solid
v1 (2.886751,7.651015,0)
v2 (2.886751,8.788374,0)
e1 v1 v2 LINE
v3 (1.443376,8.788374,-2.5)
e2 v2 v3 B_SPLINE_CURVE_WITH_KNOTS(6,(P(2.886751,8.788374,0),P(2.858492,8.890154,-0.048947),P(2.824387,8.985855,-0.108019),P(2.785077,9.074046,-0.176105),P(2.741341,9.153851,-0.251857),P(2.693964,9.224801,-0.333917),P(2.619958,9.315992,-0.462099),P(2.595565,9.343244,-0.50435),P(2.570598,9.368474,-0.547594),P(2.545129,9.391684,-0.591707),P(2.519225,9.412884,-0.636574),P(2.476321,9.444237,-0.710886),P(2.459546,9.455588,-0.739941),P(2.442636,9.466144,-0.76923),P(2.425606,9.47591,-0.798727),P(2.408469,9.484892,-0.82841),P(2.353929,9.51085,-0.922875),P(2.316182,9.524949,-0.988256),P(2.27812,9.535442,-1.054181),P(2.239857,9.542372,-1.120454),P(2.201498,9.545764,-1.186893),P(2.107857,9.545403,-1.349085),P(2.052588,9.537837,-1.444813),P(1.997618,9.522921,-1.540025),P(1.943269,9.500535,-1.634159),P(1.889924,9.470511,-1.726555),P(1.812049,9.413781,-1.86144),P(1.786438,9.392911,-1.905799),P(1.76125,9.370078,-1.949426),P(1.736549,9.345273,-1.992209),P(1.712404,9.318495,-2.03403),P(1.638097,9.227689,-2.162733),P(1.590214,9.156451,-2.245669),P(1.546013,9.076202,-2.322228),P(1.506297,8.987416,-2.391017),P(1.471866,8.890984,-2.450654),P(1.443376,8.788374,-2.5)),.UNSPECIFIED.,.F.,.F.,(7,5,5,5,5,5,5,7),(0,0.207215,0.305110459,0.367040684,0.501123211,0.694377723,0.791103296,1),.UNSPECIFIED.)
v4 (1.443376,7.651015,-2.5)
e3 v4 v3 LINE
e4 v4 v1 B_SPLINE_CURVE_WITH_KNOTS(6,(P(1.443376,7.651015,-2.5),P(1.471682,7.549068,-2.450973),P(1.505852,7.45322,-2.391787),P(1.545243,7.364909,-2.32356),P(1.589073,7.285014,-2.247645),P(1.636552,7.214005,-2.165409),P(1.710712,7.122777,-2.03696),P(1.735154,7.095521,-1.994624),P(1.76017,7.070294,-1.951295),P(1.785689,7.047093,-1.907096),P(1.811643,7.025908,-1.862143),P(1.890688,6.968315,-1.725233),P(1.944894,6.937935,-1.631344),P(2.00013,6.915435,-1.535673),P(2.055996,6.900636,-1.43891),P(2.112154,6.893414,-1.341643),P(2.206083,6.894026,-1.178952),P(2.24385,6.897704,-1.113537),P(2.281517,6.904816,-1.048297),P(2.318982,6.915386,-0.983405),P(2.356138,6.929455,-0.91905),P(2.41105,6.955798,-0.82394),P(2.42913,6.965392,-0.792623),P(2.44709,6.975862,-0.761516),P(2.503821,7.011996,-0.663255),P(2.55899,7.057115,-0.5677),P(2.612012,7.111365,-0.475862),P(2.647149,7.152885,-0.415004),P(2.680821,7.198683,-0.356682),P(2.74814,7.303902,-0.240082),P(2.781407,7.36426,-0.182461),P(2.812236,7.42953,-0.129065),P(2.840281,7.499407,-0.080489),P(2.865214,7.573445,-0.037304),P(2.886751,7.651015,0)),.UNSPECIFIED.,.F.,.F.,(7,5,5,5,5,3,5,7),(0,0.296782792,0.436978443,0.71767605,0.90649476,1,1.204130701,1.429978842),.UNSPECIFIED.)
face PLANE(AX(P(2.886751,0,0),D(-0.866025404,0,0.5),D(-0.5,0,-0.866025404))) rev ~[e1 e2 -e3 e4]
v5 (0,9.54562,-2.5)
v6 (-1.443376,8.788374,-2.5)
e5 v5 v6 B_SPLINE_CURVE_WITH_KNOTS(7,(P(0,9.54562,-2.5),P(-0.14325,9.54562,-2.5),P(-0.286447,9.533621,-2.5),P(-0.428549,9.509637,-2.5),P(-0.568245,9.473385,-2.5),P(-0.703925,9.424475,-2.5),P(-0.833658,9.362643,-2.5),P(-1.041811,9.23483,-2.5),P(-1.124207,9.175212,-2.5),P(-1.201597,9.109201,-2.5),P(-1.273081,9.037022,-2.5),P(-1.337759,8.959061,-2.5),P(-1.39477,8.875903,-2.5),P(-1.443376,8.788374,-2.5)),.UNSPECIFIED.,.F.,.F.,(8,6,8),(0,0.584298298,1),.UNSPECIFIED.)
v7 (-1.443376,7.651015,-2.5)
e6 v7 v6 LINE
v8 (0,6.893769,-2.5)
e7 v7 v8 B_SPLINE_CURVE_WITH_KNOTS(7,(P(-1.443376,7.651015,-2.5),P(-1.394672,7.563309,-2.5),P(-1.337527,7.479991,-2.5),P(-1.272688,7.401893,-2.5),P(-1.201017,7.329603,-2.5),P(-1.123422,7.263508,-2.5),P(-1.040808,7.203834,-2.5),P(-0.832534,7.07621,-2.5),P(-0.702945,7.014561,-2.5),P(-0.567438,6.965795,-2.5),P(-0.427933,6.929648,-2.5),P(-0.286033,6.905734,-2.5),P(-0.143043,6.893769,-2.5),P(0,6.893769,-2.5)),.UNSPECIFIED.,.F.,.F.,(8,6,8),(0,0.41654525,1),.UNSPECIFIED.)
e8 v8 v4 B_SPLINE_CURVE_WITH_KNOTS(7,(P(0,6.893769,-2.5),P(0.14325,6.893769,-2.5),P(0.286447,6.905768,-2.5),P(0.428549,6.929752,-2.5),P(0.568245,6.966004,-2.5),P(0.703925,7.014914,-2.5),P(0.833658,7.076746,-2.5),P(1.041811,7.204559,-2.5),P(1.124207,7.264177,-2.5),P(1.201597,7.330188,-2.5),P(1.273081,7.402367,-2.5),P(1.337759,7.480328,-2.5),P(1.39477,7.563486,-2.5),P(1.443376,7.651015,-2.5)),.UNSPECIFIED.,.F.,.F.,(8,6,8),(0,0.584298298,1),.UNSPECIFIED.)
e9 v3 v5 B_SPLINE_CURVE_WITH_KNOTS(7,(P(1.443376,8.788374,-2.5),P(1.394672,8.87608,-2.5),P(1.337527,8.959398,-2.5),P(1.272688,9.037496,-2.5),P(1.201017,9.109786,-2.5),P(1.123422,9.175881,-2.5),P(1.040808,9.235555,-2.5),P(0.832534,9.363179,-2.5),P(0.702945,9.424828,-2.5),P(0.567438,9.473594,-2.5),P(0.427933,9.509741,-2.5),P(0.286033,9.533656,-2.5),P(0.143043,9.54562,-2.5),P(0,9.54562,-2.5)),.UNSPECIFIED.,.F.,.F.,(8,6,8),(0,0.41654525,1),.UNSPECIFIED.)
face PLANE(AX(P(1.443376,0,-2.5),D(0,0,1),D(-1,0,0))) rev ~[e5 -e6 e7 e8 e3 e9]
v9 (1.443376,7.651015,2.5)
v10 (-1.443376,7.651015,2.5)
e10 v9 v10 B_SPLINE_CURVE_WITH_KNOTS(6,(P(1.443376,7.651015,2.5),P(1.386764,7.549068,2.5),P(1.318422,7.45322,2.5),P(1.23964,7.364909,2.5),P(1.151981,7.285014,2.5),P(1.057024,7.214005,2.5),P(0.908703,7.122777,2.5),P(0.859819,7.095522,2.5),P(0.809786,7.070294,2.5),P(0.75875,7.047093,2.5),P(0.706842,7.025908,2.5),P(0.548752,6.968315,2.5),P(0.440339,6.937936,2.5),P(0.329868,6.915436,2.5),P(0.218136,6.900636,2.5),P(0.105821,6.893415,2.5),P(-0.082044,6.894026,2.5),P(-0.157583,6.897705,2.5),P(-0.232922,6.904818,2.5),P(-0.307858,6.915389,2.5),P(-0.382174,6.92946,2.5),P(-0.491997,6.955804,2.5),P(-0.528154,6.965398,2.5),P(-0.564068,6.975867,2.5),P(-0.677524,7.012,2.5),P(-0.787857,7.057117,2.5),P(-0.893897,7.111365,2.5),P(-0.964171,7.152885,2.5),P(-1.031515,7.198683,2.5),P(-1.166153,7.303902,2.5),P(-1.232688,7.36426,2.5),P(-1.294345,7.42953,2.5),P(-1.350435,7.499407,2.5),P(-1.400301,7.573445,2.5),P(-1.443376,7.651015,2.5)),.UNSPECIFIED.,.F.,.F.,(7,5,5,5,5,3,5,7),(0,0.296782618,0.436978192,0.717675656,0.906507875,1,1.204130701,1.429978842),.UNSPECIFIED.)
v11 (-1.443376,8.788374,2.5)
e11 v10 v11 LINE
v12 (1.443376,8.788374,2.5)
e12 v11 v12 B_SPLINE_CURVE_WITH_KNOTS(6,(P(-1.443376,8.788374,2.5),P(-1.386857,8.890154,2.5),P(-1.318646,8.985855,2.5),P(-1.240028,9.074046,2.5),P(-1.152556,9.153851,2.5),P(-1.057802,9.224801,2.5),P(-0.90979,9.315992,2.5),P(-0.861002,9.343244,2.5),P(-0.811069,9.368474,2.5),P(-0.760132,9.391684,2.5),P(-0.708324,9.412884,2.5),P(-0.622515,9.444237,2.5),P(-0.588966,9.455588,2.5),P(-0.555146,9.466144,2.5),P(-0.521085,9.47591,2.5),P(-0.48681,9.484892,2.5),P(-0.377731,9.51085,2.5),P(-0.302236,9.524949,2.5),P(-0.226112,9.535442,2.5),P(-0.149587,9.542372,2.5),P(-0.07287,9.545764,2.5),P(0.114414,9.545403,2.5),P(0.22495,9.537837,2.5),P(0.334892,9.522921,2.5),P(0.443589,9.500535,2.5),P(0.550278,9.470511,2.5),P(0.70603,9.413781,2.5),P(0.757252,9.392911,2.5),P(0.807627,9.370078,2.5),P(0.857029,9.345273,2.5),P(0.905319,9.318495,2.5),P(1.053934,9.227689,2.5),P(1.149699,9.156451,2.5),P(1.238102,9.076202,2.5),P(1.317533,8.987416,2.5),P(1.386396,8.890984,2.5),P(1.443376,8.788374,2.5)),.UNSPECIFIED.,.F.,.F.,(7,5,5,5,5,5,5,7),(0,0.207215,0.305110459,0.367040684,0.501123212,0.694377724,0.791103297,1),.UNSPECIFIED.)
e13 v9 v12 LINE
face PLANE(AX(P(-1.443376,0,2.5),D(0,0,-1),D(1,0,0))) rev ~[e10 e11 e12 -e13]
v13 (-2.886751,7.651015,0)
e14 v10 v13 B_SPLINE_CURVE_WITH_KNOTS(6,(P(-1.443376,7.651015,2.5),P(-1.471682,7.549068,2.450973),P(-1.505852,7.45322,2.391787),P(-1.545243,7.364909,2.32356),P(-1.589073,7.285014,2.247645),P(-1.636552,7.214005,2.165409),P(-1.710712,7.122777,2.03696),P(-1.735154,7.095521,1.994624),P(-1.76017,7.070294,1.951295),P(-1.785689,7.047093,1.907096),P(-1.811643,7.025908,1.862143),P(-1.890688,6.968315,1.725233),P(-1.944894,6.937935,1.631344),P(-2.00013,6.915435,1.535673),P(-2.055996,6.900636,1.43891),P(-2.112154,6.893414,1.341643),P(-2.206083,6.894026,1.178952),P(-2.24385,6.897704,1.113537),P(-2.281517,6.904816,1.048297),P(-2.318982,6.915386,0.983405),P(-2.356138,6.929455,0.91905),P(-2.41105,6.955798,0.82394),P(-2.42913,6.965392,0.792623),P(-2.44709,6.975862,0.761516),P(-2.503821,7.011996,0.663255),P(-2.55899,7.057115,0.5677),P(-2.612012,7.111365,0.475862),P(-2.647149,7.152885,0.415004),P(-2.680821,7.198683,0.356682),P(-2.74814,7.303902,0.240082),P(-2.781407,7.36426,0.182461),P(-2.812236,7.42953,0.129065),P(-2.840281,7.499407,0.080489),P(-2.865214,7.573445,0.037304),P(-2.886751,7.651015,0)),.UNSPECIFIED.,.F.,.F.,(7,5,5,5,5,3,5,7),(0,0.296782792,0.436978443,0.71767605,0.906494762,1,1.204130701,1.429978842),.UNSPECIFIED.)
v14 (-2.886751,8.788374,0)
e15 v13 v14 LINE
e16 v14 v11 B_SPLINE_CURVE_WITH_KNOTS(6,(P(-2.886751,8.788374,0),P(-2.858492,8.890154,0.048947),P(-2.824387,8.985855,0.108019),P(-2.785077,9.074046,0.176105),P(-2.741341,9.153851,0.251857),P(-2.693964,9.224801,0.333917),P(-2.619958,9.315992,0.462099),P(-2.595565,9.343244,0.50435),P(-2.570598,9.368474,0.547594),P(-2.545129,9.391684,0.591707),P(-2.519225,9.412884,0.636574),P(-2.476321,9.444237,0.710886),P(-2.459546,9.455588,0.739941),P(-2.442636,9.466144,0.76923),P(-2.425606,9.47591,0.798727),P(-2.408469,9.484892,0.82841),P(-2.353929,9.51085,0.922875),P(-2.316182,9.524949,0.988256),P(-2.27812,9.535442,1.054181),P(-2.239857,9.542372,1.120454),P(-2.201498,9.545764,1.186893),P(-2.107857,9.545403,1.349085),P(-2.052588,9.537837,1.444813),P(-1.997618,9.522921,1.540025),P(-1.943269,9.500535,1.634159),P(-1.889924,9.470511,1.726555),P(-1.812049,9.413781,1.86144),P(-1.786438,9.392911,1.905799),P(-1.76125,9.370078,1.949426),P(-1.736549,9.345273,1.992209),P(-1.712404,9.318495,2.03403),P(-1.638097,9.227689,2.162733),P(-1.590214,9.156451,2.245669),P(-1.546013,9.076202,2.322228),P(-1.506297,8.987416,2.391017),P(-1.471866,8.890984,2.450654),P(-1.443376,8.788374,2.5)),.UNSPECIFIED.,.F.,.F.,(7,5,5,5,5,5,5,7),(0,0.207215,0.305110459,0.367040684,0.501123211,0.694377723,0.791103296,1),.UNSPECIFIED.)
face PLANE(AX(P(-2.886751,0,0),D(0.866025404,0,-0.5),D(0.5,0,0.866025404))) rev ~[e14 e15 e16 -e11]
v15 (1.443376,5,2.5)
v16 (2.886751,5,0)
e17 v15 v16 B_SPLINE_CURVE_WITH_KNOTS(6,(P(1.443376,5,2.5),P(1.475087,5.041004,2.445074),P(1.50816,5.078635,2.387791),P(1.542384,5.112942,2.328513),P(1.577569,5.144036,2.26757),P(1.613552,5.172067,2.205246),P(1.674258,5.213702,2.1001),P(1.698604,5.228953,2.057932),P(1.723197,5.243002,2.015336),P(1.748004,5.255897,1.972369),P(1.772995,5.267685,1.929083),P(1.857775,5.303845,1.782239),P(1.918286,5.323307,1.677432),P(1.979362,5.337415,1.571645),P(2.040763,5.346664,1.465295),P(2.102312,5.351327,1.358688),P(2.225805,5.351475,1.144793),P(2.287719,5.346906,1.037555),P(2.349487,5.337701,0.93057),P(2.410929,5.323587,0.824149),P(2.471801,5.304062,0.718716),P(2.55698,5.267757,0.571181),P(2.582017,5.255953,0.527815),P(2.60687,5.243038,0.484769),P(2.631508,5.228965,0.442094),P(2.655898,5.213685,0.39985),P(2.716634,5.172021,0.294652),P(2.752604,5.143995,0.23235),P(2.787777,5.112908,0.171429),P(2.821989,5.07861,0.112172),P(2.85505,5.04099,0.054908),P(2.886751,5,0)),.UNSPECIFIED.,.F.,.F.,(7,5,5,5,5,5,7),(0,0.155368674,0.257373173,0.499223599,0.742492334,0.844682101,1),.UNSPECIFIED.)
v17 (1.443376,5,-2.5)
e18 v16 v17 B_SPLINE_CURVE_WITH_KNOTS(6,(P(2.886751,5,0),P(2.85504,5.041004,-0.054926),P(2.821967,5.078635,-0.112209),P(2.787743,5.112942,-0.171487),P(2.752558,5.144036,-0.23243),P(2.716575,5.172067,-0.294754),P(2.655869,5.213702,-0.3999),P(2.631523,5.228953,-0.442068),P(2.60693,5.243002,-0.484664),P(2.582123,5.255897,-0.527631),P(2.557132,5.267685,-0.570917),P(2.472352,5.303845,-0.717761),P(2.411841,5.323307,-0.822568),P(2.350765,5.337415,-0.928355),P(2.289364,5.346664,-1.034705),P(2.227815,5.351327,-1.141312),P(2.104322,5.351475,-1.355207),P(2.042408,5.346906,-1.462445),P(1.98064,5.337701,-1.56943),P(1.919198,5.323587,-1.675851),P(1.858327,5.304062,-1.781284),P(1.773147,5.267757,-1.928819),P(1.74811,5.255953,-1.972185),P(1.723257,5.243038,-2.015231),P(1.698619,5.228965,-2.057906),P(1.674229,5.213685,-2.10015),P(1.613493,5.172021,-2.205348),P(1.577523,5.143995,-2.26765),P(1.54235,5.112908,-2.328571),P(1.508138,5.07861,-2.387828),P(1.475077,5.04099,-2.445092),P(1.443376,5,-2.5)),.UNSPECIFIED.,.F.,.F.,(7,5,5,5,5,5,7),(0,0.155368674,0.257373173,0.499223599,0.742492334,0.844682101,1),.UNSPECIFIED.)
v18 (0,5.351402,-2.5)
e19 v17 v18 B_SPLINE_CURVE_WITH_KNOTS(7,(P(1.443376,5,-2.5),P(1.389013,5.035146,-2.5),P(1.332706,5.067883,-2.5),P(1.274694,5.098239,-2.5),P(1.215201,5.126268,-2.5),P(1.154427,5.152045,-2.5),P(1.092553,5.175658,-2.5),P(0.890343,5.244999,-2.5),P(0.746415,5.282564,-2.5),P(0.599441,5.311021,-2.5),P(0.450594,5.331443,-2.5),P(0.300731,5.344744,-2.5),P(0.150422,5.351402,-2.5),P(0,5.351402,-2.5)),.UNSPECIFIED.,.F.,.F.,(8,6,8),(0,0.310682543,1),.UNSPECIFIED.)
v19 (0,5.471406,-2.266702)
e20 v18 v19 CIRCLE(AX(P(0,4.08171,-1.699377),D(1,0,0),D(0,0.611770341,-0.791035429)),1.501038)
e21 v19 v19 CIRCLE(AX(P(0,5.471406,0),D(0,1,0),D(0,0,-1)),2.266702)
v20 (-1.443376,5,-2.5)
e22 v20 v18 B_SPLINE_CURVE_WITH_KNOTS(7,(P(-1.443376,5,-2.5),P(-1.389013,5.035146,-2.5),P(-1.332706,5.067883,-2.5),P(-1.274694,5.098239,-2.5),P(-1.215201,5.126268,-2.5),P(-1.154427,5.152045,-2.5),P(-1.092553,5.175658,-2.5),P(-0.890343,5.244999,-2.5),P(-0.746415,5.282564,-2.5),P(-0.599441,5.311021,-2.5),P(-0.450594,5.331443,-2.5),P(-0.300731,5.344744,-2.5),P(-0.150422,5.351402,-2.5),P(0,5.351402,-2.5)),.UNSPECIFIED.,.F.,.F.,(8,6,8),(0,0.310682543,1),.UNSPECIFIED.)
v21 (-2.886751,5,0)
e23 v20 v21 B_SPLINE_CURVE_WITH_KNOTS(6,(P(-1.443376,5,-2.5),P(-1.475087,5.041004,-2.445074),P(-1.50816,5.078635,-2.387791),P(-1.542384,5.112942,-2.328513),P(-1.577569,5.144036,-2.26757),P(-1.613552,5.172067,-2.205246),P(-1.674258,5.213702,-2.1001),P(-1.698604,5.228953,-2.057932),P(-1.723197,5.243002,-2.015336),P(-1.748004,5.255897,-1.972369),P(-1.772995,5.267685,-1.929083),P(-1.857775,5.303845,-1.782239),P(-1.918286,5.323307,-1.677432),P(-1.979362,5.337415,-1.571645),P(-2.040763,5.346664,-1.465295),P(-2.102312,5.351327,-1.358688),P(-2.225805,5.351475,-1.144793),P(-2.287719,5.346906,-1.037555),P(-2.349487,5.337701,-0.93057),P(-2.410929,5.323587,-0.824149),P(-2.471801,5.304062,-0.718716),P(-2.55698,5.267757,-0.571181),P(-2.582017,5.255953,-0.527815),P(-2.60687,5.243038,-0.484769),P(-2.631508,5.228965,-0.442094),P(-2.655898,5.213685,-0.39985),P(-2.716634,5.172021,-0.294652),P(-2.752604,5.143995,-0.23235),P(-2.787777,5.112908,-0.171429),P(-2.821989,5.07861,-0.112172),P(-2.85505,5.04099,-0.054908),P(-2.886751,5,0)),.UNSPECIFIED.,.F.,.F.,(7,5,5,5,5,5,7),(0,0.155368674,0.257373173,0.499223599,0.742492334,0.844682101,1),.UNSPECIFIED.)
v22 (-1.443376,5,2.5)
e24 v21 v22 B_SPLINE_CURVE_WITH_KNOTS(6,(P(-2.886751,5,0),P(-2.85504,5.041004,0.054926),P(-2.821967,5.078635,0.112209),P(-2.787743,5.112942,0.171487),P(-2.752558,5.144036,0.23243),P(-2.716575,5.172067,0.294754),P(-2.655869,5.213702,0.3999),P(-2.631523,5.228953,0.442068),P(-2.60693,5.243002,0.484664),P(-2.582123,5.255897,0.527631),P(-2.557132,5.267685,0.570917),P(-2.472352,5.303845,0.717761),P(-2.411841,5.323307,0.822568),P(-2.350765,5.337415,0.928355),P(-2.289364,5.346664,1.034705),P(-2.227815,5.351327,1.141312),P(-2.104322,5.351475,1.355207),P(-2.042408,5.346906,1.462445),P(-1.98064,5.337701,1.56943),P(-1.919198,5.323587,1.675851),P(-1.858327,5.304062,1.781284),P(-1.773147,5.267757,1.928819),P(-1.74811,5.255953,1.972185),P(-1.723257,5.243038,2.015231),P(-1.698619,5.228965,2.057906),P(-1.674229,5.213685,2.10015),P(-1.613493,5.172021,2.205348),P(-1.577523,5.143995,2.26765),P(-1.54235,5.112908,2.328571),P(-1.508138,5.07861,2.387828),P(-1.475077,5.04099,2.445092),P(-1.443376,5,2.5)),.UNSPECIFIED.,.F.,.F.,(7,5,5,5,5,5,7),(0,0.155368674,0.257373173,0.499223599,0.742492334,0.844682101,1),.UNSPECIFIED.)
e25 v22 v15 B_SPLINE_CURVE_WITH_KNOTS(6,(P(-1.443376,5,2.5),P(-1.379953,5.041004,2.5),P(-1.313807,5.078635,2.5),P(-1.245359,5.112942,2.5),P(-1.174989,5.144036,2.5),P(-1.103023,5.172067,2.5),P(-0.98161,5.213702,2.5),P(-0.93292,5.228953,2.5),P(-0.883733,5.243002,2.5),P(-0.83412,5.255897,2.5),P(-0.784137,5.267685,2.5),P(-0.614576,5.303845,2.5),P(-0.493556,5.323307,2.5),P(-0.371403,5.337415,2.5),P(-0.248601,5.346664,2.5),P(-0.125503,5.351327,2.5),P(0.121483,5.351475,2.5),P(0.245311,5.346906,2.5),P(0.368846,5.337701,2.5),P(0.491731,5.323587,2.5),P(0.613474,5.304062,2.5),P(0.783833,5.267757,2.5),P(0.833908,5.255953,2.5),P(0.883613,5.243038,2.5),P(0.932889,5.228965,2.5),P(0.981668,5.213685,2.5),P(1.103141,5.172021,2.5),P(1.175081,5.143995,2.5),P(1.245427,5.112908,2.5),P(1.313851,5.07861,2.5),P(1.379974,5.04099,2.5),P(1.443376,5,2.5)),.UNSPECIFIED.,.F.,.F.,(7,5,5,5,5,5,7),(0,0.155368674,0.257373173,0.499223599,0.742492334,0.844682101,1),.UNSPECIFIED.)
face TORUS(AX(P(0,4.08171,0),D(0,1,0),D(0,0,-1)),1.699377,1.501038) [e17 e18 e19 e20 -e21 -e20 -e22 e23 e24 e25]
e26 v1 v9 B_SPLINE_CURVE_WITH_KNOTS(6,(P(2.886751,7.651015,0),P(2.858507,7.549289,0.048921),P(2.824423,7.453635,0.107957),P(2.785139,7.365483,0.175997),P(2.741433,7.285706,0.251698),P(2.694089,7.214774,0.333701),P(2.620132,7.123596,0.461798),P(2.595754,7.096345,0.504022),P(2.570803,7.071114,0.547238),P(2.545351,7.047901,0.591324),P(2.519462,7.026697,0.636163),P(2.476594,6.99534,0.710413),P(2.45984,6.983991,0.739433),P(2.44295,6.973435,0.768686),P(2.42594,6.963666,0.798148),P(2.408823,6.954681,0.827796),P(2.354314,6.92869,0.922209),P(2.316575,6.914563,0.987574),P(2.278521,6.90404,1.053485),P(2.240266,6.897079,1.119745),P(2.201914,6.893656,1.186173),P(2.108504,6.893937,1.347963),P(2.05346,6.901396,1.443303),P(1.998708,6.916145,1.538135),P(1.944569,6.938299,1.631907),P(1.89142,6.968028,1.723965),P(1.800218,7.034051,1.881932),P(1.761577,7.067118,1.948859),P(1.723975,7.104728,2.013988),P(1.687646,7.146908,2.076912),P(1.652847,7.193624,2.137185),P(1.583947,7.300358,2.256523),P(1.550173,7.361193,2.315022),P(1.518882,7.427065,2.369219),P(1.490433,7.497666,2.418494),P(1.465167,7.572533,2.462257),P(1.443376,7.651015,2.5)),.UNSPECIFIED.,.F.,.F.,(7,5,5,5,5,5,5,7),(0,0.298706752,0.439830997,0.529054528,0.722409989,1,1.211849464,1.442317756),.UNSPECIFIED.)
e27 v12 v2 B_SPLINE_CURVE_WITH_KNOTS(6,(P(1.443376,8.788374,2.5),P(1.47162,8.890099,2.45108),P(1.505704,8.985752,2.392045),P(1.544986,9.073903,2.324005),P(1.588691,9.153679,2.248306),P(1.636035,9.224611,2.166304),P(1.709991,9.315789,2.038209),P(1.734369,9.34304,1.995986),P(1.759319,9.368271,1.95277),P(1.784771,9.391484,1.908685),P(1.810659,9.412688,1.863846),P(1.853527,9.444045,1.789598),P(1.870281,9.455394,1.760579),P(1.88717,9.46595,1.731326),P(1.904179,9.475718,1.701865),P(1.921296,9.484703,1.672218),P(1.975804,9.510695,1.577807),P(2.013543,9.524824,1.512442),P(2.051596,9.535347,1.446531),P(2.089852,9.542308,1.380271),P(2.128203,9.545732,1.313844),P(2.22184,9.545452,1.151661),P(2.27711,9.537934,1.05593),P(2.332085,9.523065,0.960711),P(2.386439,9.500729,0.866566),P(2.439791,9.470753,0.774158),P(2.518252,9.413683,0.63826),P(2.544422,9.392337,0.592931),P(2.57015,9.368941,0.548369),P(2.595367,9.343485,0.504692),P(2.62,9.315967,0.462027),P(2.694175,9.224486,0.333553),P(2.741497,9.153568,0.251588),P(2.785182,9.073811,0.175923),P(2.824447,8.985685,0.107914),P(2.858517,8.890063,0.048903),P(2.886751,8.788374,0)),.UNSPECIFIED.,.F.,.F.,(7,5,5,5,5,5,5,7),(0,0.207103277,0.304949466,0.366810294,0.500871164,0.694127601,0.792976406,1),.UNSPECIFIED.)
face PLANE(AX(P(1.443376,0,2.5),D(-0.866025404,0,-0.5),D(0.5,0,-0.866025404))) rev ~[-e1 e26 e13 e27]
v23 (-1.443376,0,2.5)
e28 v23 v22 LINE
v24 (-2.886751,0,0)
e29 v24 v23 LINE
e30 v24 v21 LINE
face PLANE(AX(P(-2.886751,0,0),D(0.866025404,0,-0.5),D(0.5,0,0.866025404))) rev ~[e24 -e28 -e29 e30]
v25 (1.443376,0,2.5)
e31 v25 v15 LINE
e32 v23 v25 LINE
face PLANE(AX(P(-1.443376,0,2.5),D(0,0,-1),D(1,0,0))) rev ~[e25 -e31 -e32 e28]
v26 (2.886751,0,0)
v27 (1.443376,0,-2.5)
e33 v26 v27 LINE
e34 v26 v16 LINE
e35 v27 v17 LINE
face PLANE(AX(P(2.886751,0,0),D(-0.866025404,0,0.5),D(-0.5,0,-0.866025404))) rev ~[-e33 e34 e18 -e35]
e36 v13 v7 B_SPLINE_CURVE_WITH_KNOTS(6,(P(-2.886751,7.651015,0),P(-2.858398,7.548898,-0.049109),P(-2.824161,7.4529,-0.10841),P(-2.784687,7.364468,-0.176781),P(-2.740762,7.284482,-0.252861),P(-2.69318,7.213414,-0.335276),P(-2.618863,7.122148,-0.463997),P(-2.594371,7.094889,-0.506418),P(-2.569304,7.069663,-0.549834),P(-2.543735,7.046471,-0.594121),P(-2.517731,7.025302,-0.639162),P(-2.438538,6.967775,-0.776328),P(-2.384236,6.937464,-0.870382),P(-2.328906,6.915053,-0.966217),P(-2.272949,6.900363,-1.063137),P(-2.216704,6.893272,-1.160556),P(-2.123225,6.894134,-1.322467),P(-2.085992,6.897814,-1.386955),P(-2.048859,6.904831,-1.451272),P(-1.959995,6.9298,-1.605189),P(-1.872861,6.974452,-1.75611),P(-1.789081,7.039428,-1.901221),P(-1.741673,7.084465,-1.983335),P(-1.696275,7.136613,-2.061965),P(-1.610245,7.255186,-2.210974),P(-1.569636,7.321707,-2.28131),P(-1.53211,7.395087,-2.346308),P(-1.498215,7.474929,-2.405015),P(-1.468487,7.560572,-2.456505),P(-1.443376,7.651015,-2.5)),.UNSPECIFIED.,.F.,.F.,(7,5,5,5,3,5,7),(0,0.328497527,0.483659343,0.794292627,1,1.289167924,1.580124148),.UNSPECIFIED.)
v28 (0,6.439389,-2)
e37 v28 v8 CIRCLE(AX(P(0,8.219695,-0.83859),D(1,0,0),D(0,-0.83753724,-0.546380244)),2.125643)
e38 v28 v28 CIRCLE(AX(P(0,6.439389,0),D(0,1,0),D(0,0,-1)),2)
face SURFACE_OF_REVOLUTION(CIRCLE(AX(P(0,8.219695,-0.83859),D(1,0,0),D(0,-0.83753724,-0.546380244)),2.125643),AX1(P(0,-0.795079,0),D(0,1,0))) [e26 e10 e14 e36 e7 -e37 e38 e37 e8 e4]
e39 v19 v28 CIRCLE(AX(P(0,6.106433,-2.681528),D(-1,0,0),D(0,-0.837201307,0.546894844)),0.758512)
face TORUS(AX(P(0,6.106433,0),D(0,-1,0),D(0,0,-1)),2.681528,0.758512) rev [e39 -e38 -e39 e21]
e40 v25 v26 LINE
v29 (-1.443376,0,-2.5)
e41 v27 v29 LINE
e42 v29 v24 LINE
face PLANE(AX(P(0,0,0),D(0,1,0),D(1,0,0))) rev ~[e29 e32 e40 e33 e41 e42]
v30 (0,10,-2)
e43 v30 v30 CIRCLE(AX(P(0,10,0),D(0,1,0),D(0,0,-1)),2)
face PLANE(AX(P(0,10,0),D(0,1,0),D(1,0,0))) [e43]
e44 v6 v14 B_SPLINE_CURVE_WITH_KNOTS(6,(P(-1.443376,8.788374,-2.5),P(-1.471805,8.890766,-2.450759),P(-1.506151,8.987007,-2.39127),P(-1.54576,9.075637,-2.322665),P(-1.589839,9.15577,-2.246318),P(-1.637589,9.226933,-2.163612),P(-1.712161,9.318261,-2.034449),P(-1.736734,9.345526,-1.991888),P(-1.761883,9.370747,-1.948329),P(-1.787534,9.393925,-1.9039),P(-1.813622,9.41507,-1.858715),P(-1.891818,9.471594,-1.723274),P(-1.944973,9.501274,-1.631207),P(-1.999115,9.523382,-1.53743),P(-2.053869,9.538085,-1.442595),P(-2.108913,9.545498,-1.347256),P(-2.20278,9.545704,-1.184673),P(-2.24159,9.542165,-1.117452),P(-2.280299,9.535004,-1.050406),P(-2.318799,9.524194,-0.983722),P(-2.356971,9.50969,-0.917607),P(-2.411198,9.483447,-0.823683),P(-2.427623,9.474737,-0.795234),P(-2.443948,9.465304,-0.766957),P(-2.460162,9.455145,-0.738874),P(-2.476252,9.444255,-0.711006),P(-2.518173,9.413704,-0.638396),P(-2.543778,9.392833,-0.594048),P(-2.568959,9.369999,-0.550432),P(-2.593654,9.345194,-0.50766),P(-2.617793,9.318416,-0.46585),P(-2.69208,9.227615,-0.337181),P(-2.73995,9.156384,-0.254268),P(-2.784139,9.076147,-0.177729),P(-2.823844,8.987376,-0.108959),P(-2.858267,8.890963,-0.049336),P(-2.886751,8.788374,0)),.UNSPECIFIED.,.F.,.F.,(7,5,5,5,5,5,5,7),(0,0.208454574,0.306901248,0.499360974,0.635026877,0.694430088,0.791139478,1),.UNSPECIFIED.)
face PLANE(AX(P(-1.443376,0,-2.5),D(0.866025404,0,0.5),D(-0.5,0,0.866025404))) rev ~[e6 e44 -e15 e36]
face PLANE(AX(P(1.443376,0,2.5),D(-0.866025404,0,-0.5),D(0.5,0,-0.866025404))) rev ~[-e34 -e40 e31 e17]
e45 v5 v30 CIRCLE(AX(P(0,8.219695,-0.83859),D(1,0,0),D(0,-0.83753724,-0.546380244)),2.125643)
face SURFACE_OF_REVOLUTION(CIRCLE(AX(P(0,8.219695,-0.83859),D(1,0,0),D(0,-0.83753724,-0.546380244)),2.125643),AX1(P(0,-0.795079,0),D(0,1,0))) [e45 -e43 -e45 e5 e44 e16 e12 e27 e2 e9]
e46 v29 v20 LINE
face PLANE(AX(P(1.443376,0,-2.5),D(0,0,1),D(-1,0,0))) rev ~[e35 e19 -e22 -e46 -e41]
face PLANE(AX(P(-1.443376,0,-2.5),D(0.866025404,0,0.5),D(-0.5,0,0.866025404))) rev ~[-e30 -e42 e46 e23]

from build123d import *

# Parameters (mm, degrees)
BOSS_EXTRUDE1_DEPTH = 10


with BuildPart() as part:
    # Sketch1 → Boss-Extrude1 (new body)
    with BuildSketch(Plane(origin=(0, 0, 0), x_dir=(1, 0, 0), z_dir=(0, 1, 0))):
        Polygon((2.886751346, 0), (1.443375673, 2.5), (-1.443375673, 2.5), (-2.886751346, 0), (-1.443375673, -2.5), (1.443375673, -2.5), align=None)
    extrude(amount=BOSS_EXTRUDE1_DEPTH)

    # Sketch3 → Cut-Revolve1 (revolve, cut)
    with BuildSketch(Plane.XY, mode=Mode.PRIVATE) as cut_revolve1_sk:
        with BuildLine():
            Line((-2, 10), (-2, 10.901570298))
            Line((-2, 10.901570298), (-4.378417403, 10.901570298))
            Line((-4.378417403, 10.901570298), (-4.378417403, 5))
            Line((-4.378417403, 5), (-2.886751346, 5))
            ThreePointArc((-2.886751346, 5), (-2.607836376, 5.276622353), (-2.266701974, 5.471406351))
            ThreePointArc((-2.266701974, 5.471406351), (-1.950264944, 5.90495326), (-2, 6.439389168))
            ThreePointArc((-2, 6.439389168), (-2.964233791, 8.219694584), (-2, 10))
        make_face()
    revolve(cut_revolve1_sk.sketch.rotate(Axis((0, -0.795078515, 0), (0, 1, 0)), 270), axis=Axis((0, -0.795078515, 0), (0, 1, 0)), mode=Mode.SUBTRACT)


solid = part.part
